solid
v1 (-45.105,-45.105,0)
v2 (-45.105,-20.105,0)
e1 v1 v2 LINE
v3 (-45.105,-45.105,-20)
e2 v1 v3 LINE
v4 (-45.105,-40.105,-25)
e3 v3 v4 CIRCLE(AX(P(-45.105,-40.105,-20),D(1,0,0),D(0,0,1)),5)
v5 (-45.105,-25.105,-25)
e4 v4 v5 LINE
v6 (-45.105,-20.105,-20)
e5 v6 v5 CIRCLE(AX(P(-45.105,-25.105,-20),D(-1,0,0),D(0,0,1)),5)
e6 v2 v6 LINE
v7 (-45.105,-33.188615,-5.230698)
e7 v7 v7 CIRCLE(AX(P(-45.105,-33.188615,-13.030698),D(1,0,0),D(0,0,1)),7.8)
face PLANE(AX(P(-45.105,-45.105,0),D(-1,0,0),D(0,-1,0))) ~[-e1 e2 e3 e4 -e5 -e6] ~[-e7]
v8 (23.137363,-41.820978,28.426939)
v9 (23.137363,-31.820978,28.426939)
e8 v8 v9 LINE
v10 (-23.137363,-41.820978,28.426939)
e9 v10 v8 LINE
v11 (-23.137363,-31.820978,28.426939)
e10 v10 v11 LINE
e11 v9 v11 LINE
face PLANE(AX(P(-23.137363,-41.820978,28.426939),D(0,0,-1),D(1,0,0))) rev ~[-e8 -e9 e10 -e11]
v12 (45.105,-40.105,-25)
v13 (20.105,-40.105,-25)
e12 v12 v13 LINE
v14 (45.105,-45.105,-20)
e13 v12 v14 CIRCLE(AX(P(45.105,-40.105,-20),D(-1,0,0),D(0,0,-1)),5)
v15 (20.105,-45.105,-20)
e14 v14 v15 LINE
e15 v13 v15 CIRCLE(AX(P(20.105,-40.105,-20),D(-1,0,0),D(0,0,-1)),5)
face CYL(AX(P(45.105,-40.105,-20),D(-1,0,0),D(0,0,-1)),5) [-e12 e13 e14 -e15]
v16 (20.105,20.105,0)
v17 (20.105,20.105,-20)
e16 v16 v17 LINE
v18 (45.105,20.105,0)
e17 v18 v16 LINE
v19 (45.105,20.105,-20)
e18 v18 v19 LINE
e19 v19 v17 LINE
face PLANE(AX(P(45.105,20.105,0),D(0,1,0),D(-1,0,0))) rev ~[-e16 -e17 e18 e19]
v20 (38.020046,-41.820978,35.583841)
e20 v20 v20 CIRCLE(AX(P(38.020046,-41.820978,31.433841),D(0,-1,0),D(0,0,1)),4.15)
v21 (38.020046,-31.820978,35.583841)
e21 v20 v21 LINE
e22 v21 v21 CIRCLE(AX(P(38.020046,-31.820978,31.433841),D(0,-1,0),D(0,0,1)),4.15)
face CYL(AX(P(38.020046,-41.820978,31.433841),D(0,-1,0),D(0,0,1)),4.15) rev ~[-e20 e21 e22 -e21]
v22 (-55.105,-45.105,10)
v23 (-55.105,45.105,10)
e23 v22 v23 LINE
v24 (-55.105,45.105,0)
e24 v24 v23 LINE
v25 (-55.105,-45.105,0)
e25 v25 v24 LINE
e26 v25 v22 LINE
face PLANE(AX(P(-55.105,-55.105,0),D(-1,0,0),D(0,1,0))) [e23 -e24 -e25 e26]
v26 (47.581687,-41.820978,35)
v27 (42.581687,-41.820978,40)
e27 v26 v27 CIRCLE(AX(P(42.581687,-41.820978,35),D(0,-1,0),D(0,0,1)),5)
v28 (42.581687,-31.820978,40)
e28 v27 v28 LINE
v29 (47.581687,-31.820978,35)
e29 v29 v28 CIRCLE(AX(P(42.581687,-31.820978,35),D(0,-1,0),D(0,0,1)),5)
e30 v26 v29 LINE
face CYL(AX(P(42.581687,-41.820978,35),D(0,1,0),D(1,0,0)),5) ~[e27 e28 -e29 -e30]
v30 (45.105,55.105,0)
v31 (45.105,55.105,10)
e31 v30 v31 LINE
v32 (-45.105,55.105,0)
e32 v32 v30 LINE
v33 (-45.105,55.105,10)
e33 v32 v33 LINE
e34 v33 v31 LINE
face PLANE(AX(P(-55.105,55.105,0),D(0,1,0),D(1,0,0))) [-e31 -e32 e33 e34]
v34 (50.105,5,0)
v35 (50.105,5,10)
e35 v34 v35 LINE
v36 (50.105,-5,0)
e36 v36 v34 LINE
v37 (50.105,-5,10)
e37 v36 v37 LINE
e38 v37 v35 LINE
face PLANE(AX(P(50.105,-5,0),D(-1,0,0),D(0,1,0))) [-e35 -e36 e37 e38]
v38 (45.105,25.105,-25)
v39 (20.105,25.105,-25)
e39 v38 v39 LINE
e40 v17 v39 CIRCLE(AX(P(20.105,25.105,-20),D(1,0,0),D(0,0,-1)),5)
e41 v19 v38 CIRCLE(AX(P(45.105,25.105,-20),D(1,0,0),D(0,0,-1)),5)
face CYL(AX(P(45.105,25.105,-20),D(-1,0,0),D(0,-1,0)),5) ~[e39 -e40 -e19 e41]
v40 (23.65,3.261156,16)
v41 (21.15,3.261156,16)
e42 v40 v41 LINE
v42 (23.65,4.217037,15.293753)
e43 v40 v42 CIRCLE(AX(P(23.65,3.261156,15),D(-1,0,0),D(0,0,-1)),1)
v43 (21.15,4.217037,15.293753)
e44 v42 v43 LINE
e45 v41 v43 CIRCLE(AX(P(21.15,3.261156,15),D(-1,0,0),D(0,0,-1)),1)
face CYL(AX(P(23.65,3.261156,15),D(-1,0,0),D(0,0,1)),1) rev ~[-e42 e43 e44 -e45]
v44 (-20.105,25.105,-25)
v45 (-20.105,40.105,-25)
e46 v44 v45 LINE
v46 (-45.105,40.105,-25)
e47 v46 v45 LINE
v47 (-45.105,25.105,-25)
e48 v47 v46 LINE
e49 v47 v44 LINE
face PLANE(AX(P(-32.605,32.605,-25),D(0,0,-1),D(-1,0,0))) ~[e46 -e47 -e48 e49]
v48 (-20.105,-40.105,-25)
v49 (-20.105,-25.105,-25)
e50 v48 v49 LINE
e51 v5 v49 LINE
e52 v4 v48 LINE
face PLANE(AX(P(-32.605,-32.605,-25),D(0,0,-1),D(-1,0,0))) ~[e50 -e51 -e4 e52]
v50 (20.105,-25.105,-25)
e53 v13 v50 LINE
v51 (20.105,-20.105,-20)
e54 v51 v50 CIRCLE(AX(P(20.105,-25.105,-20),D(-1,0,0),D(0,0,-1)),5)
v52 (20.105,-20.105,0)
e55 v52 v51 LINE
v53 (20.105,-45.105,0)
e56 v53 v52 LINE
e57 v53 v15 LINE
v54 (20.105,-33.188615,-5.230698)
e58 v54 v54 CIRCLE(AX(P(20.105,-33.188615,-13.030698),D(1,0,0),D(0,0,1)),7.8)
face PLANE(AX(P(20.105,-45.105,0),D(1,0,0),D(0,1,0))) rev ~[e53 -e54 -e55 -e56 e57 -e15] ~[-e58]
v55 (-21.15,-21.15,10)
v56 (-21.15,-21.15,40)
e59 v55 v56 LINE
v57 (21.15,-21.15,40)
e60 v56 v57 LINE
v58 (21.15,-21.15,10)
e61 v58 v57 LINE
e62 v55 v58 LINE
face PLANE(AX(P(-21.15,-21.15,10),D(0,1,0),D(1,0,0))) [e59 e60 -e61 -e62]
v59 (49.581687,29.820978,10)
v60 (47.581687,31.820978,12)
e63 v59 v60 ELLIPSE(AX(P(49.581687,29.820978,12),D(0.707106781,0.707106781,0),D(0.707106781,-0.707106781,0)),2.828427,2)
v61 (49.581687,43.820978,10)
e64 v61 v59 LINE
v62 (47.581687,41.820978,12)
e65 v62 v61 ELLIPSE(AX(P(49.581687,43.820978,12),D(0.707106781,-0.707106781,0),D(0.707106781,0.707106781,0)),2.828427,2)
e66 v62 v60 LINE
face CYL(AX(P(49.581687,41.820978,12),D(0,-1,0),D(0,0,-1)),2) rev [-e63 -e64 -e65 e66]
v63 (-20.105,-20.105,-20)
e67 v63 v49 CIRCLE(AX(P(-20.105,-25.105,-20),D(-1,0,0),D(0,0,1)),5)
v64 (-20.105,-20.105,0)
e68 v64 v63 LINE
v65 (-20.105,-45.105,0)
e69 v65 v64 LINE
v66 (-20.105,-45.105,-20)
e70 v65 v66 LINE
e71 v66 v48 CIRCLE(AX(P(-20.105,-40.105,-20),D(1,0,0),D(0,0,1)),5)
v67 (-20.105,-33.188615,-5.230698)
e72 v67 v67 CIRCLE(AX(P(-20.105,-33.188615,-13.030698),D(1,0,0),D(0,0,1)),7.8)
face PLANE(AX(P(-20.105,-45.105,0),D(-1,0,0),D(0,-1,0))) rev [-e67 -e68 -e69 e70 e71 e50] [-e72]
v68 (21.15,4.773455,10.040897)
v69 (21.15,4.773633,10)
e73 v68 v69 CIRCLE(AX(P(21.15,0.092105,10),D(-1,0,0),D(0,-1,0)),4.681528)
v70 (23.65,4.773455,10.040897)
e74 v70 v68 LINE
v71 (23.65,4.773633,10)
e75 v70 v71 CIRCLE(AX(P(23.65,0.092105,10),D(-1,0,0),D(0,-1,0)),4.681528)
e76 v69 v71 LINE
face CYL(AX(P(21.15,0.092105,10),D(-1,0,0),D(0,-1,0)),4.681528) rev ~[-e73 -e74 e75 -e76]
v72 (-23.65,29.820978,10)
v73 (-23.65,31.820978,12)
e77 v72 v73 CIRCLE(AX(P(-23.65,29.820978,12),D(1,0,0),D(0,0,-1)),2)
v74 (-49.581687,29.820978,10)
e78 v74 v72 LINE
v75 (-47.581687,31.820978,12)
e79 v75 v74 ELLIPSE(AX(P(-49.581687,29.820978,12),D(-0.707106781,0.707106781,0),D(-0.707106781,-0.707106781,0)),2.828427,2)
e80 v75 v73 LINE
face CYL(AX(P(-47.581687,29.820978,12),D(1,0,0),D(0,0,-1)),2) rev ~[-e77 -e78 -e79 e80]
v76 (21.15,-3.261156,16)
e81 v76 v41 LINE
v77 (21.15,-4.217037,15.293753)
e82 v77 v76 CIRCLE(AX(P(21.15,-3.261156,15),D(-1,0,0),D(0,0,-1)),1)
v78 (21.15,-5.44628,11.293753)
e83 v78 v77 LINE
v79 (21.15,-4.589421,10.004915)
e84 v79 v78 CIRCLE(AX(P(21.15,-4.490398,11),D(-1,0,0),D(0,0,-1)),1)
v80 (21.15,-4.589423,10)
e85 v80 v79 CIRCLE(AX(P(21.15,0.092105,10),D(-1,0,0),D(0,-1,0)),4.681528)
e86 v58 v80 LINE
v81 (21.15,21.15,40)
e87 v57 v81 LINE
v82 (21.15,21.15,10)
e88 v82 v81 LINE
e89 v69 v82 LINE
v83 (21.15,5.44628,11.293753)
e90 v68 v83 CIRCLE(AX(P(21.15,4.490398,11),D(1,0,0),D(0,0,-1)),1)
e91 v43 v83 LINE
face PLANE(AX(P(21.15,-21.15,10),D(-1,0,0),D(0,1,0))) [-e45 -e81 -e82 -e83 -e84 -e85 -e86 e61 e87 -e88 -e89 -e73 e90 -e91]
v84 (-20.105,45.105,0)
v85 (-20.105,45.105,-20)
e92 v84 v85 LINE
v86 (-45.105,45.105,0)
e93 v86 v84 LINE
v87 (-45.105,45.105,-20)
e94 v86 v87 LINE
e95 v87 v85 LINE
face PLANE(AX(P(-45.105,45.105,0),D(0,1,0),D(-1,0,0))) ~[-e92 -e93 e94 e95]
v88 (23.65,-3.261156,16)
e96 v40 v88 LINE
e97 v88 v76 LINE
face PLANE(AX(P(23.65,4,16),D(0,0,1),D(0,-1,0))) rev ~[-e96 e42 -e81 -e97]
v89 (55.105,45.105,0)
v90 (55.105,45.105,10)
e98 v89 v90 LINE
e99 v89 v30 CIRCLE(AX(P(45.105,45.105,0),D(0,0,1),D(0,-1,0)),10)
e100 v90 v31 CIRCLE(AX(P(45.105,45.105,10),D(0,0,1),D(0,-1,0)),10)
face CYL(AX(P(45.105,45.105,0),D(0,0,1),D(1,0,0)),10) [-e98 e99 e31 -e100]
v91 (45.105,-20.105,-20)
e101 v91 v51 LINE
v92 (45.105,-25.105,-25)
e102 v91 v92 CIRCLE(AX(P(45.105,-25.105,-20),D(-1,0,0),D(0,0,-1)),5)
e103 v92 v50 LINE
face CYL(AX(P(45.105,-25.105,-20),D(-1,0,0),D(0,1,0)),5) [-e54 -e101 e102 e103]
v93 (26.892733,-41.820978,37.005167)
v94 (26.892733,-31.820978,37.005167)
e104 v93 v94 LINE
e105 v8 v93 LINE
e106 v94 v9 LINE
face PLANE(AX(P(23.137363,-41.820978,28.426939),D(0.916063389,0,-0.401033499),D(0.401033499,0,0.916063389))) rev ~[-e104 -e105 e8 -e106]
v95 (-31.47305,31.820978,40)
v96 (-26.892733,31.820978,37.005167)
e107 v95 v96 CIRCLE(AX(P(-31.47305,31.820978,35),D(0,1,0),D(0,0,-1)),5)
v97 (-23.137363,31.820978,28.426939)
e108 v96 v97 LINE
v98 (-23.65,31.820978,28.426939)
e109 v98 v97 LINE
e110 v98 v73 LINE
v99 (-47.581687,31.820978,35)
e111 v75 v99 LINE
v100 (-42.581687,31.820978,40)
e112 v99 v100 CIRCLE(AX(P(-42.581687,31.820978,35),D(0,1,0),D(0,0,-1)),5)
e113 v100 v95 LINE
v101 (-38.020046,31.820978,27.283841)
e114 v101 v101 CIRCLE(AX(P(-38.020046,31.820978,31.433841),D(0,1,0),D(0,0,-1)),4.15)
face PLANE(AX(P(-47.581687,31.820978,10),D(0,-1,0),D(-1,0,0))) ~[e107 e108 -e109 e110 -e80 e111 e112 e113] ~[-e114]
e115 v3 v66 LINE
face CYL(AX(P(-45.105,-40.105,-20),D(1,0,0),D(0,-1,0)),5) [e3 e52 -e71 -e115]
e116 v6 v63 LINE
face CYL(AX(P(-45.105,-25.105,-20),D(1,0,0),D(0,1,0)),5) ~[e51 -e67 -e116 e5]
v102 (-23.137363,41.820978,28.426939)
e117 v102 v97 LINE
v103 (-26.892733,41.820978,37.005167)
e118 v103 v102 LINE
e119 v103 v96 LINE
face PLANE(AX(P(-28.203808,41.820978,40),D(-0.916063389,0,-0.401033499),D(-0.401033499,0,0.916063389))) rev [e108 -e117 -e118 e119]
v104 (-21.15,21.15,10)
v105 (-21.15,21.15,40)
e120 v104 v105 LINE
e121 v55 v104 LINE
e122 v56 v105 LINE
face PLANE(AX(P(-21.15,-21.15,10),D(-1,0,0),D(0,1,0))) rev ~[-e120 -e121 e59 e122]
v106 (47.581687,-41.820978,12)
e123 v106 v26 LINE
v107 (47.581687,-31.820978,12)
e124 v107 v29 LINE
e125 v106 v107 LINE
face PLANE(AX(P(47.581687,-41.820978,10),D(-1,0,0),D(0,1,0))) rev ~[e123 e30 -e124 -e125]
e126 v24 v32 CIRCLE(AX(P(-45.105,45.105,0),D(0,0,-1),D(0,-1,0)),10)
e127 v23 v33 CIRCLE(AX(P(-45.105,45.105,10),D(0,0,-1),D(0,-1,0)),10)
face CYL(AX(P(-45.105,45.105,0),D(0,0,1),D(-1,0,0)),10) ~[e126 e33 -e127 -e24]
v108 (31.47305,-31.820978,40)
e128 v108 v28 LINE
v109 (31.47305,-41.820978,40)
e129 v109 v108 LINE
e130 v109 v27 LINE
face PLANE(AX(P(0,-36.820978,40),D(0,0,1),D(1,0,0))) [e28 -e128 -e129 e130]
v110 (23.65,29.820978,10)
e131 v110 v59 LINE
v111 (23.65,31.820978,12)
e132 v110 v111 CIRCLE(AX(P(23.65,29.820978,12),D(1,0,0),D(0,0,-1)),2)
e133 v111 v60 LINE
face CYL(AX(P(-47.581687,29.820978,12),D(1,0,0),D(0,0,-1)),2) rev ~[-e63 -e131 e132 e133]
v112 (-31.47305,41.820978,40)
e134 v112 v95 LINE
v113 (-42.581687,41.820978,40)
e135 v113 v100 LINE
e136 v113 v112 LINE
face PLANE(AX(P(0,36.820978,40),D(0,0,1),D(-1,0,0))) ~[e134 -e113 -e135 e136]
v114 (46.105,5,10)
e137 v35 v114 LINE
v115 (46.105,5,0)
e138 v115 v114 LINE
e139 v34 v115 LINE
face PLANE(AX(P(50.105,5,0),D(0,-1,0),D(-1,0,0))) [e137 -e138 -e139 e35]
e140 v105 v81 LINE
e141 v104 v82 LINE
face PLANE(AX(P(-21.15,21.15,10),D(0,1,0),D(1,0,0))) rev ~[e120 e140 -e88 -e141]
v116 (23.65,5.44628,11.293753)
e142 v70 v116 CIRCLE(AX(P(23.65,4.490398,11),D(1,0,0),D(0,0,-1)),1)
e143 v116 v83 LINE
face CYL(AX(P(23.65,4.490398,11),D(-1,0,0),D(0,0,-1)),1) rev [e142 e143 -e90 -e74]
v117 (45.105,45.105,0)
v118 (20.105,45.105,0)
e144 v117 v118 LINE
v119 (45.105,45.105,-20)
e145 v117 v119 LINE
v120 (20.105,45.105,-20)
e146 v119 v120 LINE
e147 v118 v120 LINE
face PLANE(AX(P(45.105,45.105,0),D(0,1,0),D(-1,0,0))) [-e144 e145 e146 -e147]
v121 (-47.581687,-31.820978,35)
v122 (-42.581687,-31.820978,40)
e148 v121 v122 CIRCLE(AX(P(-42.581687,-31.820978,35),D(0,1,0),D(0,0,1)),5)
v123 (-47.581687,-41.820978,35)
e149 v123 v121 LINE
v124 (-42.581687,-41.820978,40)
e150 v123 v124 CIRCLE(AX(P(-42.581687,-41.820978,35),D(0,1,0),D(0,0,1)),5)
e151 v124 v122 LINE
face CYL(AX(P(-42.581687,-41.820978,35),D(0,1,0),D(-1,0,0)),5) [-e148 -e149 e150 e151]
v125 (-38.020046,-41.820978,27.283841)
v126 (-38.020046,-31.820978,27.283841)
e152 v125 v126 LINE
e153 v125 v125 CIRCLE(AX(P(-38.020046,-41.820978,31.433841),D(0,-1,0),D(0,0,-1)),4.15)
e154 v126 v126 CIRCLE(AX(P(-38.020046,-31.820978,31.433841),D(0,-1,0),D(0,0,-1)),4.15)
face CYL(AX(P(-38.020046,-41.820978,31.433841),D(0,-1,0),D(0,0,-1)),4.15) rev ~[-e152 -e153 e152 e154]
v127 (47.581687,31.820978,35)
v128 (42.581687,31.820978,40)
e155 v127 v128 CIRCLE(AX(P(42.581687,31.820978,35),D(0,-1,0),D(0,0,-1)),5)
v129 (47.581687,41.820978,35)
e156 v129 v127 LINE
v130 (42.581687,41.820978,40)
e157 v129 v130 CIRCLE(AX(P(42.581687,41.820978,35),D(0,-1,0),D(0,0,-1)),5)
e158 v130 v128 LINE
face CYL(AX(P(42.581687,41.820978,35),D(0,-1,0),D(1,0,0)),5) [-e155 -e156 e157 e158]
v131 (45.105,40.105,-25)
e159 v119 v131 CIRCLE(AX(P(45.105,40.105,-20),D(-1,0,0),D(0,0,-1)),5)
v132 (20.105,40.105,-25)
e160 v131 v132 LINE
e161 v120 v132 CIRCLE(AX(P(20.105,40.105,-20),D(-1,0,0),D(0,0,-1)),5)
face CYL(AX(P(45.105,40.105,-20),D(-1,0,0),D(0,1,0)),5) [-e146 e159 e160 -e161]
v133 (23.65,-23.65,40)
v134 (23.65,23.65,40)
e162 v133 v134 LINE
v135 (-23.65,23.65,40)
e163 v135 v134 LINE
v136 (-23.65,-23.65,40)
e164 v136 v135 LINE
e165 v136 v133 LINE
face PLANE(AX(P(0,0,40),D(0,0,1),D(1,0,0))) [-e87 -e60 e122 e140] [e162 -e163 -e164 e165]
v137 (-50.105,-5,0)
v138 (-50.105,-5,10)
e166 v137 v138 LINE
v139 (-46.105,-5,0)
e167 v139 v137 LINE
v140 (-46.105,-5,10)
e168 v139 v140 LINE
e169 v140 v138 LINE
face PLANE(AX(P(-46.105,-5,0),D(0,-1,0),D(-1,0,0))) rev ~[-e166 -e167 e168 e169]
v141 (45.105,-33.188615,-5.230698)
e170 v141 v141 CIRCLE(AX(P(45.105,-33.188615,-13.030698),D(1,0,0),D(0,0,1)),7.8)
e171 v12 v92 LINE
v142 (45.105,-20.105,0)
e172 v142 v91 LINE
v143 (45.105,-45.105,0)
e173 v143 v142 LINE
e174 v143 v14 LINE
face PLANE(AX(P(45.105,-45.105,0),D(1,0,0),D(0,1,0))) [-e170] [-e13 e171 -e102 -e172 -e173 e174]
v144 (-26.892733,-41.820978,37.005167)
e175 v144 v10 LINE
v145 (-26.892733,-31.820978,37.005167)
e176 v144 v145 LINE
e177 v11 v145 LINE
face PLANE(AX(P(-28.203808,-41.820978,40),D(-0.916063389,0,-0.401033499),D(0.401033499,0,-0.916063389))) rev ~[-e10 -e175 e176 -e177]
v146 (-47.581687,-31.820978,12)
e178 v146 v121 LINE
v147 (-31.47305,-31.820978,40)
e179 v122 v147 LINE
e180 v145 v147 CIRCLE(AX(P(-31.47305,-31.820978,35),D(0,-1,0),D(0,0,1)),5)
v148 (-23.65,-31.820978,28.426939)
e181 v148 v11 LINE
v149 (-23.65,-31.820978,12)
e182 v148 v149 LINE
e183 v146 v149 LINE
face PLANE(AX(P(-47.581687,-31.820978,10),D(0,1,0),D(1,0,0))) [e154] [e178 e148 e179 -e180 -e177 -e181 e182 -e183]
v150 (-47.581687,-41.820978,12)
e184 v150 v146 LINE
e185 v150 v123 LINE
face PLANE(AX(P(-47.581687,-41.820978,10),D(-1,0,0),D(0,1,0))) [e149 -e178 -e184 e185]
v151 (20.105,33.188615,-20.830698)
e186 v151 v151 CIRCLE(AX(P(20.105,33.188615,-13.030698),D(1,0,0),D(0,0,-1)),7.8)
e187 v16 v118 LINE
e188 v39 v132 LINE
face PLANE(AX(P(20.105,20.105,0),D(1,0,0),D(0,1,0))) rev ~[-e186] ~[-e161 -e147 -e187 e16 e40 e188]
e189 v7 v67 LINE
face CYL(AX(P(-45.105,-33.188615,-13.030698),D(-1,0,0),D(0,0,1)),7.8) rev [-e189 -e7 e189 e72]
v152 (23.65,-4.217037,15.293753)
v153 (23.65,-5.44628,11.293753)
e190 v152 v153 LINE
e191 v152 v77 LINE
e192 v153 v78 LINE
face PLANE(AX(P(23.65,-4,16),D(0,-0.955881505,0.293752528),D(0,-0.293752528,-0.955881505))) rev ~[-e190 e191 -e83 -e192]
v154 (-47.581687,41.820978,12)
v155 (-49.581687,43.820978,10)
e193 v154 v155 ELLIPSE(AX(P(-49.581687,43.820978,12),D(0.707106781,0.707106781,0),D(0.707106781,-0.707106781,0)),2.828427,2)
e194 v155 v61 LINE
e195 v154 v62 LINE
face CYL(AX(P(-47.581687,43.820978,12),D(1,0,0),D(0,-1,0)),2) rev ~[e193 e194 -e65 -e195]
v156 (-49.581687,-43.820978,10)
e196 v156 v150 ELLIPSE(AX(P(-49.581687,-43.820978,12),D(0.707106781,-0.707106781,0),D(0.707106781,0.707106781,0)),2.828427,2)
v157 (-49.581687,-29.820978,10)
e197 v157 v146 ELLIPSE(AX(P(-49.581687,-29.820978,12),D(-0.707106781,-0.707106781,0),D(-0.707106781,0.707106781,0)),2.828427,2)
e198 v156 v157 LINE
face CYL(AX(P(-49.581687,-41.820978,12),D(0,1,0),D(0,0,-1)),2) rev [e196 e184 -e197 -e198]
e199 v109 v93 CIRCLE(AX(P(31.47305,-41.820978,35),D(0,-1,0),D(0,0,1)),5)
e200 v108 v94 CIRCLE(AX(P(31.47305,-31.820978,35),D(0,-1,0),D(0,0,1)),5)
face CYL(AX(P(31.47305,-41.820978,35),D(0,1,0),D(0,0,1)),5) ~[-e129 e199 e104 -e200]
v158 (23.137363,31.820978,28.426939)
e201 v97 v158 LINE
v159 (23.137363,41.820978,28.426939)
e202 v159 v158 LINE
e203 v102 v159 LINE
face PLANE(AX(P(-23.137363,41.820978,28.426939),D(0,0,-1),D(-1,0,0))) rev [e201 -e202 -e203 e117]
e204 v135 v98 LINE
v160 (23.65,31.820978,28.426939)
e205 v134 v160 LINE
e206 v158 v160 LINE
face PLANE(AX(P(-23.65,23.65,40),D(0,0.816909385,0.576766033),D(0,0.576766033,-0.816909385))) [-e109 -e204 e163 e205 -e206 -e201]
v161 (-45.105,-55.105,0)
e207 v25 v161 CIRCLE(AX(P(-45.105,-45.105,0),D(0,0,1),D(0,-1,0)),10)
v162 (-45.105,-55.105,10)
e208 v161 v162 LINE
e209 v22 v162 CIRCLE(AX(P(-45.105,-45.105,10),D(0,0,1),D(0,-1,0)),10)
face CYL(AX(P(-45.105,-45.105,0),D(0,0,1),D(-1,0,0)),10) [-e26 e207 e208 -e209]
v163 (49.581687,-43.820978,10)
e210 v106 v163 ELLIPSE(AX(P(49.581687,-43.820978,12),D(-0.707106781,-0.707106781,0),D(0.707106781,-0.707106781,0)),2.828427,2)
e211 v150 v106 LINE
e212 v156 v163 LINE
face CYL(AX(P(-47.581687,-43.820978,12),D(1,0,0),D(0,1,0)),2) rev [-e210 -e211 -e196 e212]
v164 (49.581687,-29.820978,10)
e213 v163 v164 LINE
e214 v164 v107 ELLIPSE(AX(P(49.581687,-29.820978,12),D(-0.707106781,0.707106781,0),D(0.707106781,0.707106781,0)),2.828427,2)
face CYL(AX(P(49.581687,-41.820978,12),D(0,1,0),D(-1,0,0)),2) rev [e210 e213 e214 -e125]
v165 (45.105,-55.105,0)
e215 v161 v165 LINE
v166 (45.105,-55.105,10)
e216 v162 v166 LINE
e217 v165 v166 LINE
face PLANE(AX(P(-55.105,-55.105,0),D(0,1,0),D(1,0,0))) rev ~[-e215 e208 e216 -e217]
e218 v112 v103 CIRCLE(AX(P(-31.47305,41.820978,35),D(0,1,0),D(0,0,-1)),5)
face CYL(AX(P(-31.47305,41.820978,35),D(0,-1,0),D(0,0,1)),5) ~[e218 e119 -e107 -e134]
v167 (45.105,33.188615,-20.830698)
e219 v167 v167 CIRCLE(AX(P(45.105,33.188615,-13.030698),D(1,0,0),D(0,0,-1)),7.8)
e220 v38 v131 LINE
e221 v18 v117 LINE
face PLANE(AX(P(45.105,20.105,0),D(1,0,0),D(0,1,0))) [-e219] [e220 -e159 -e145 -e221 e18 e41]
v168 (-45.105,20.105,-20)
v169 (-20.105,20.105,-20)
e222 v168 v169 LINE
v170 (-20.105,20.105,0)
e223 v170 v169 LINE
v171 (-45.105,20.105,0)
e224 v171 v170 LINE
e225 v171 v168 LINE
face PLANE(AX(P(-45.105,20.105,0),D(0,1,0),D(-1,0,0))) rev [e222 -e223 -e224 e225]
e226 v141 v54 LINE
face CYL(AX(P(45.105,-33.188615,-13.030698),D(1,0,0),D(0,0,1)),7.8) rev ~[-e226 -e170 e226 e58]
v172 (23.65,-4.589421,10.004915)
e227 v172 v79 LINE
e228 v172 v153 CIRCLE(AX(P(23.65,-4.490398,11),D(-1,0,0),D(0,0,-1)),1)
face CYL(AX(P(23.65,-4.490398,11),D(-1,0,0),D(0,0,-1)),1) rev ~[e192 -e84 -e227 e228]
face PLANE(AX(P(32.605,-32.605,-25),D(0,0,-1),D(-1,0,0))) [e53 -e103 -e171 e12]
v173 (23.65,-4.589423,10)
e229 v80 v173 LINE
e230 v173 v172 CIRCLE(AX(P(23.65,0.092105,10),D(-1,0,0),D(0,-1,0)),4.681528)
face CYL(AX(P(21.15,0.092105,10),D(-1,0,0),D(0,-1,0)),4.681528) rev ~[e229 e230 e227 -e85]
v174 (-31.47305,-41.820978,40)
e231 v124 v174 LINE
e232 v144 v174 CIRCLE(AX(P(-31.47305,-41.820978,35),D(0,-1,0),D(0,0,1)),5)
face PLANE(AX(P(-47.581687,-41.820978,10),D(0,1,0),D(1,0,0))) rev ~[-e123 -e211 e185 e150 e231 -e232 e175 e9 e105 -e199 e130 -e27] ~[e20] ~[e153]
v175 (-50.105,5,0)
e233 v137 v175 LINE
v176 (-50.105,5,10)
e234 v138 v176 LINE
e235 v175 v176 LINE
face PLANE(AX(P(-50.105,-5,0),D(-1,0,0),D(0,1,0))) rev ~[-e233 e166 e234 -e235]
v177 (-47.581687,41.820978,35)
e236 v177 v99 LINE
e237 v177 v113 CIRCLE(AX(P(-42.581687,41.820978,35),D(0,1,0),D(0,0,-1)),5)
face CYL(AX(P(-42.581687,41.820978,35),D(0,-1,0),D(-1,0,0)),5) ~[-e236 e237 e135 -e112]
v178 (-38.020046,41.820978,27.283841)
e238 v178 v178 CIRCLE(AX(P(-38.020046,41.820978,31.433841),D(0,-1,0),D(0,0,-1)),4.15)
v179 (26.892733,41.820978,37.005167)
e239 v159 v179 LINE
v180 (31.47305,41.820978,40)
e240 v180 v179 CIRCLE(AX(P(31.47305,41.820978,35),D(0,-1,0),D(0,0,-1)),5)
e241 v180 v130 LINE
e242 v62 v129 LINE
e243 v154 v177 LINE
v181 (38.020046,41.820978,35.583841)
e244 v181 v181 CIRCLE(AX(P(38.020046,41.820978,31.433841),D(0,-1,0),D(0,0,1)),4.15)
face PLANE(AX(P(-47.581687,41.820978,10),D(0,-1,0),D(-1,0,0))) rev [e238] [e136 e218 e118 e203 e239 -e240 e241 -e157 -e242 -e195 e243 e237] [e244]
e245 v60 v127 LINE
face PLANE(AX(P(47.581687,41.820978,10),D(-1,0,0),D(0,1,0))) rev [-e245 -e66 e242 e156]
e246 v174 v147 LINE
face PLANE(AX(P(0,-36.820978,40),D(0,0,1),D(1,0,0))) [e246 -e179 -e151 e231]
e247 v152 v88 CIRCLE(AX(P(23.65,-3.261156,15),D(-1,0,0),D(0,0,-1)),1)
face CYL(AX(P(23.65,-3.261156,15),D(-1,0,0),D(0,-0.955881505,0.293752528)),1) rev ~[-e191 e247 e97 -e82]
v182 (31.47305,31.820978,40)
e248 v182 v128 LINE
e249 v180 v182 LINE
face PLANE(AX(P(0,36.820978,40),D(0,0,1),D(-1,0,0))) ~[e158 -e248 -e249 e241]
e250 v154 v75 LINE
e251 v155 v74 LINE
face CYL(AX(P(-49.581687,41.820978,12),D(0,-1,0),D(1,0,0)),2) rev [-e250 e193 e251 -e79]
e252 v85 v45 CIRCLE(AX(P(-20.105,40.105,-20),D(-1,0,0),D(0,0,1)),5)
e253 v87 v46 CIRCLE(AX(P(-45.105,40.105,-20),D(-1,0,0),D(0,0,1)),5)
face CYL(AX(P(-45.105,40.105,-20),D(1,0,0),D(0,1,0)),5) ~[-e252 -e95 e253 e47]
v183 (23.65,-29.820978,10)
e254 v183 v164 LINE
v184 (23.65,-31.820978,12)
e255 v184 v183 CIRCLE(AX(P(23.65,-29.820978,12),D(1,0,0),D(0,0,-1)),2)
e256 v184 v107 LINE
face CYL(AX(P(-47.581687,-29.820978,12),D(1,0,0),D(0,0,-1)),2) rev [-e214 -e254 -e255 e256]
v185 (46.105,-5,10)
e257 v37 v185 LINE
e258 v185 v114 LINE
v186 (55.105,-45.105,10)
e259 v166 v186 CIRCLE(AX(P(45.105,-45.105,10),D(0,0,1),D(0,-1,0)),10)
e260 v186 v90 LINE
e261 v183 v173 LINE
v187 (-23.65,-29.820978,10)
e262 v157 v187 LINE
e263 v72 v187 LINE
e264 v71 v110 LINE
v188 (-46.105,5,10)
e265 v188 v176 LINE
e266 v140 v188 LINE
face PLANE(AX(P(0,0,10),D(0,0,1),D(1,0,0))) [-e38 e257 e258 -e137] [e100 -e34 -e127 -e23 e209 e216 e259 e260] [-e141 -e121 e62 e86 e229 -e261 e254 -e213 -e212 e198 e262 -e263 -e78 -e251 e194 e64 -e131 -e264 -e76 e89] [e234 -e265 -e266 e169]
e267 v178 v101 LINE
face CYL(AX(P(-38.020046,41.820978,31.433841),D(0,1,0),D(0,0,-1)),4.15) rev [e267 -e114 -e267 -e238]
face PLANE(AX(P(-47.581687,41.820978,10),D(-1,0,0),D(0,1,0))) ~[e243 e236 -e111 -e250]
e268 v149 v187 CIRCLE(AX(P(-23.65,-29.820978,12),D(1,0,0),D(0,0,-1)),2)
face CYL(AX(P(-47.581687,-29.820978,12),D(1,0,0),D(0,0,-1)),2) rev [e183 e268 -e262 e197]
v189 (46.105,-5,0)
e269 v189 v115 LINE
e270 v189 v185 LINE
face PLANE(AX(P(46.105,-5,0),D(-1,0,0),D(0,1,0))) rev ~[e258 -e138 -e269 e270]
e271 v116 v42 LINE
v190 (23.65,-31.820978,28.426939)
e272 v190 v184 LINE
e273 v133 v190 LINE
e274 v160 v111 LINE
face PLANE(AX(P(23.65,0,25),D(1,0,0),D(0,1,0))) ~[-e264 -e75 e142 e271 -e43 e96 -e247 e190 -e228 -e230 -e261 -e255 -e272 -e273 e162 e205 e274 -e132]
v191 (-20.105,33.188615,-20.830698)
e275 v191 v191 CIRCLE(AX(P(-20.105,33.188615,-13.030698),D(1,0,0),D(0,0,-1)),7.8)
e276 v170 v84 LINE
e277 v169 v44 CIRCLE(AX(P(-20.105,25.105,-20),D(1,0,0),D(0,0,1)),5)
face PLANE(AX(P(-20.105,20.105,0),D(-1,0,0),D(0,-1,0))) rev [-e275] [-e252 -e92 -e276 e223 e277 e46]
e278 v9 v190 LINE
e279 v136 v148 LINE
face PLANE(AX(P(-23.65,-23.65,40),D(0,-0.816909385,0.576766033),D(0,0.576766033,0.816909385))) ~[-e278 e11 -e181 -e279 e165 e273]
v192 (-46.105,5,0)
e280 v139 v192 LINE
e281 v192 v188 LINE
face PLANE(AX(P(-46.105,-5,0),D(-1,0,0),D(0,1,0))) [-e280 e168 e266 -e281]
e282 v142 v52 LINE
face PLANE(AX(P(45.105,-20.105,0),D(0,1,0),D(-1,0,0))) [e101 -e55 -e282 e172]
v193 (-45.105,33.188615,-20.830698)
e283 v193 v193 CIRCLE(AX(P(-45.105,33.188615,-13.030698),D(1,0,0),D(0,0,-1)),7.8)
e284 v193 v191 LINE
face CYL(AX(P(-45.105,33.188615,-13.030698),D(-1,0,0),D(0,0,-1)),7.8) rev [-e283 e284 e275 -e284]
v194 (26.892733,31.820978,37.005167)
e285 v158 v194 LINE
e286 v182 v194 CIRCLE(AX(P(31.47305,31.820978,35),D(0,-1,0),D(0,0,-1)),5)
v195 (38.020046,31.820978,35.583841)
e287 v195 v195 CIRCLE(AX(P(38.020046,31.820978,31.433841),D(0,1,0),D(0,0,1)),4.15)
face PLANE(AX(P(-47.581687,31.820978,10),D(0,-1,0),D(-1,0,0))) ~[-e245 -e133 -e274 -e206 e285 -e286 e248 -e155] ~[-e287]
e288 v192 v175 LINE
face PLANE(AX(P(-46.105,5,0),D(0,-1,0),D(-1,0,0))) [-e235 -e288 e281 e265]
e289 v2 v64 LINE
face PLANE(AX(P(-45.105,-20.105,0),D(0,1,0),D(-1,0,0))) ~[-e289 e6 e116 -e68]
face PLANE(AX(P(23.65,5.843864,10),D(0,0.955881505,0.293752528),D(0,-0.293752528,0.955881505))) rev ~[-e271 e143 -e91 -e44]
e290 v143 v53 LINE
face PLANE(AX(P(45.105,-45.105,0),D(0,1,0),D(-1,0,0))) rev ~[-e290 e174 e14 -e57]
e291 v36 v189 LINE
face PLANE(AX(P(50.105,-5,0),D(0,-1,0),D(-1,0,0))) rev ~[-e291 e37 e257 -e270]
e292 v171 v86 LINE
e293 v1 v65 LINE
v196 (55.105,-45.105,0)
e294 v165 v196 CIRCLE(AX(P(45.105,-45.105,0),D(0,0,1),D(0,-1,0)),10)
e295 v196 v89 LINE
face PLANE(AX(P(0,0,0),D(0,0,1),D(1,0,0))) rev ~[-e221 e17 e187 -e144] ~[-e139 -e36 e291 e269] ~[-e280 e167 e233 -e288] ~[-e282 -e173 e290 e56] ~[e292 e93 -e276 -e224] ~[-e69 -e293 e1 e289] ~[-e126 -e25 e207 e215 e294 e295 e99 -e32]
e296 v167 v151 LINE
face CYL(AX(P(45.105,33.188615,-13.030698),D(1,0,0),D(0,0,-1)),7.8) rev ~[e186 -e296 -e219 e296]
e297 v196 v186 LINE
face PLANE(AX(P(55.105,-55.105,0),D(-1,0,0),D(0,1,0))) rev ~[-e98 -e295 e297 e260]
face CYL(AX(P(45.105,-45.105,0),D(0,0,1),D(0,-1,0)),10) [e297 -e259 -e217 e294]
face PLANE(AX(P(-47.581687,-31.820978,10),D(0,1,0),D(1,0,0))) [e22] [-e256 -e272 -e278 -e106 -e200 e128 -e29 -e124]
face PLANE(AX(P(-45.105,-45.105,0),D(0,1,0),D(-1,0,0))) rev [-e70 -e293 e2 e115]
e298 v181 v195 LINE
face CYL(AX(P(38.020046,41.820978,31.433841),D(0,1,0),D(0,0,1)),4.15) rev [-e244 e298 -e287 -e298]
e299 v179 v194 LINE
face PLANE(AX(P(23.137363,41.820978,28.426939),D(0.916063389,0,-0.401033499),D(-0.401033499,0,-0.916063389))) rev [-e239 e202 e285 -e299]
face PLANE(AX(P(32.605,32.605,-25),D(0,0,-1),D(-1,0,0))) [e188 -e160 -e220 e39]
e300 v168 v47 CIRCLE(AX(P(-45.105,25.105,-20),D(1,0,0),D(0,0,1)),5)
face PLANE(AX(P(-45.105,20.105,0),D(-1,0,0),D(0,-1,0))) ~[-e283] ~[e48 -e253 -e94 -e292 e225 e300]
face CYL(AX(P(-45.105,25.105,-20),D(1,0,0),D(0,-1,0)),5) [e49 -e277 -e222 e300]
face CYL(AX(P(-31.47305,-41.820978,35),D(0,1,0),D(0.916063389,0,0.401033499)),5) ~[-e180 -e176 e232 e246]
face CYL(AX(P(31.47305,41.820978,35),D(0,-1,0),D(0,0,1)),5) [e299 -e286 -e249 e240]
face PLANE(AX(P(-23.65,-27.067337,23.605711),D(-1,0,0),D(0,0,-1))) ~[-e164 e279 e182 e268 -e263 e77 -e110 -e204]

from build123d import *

# Parameters (mm, degrees)
SCHIZZO1_W                   = 110.21
SCHIZZO1_H                   = 110.21
ESTRUSIONE_ESTRUSIONE1_DEPTH = 10
RACCORDO1_R                  = 10
SCHIZZO6_W                   = 25
SCHIZZO6_H                   = 25
ESTRUSIONE_ESTRUSIONE2_DEPTH = 25
RACCORDO2_R                  = 5
SCHIZZO8_W                   = 47.3
SCHIZZO8_H                   = 47.3
SCHIZZO8_W_2                 = 42.3
SCHIZZO8_H_2                 = 42.3
ESTRUSIONE_ESTRUSIONE4_DEPTH = 30
SCHIZZO16_W                  = 4
SCHIZZO16_H                  = 10
TAGLIO_ESTRUSIONE11_DEPTH    = 10
SCHIZZO20_R                  = 7.8
TAGLIO_ESTRUSIONE12_DEPTH    = 25
RACCORDO11_R                 = 5
RACCORDO12_R                 = 5
RACCORDO13_R                 = 5
SCHIZZO10_W                  = 95.163374128
SCHIZZO10_H                  = 10
ESTRUSIONE_ESTRUSIONE5_DEPTH = 30
SCHIZZO21_R                  = 4.15
TAGLIO_ESTRUSIONE13_DEPTH    = 17
RACCORDO15_R                 = 5
RACCORDO16_R                 = 2
RACCORDO15_OF_SPECCHIA20_R   = 5
RACCORDO16_OF_SPECCHIA20_R   = 2
ESTRUSIONE_ESTRUSIONE7_REACH = 106.11
TAGLIO_ESTRUSIONE16_DEPTH    = 8.05
RACCORDO18_R                 = 1
TAGLIO_ESTRUSIONE14_DEPTH    = 17


with BuildPart() as part:
    # Schizzo1 → Estrusione-Estrusione1 (new body)
    with BuildSketch(Plane.XY):
        Rectangle(SCHIZZO1_W, SCHIZZO1_H)
    extrude(amount=ESTRUSIONE_ESTRUSIONE1_DEPTH)

    # Raccordo1
    raccordo1_edges = [part.edges().sort_by_distance(p)[0] for p in [
        (55.105, -55.105, 5),
        (-55.105, -55.105, 5),
        (-55.105, 55.105, 5),
        (55.105, 55.105, 5),
    ]]
    fillet(raccordo1_edges, radius=RACCORDO1_R)

    # Schizzo6 → Estrusione-Estrusione2 (add)
    with BuildSketch(Plane(origin=(0, 0, 0), x_dir=(-1, 0, 0), z_dir=(0, 0, -1))):
        with Locations((-32.605, 32.605)):
            Rectangle(SCHIZZO6_W, SCHIZZO6_H)
        with Locations((-32.605, -32.605)):
            Rectangle(SCHIZZO6_W, SCHIZZO6_H)
    estrusione_estrusione2 = extrude(amount=ESTRUSIONE_ESTRUSIONE2_DEPTH)

    # Raccordo2
    raccordo2_edges = [part.edges().sort_by_distance(p)[0] for p in [
        (32.605, 20.105, -25),
        (32.605, 45.105, -25),
    ]]
    fillet(raccordo2_edges, radius=RACCORDO2_R)

    # Schizzo8 → Estrusione-Estrusione4 (add)
    with BuildSketch(Plane.XY.offset(10)):
        Rectangle(SCHIZZO8_W, SCHIZZO8_H)
        Rectangle(SCHIZZO8_W_2, SCHIZZO8_H_2, mode=Mode.SUBTRACT)
    extrude(amount=ESTRUSIONE_ESTRUSIONE4_DEPTH)

    # Schizzo16 → Taglio-Estrusione11 (cut)
    with BuildSketch(Plane(origin=(0, 0, 0), x_dir=(-1, 0, 0), z_dir=(0, 0, -1))):
        with Locations((-48.105, 0)):
            Rectangle(SCHIZZO16_W, SCHIZZO16_H)
        with Locations((48.105, 0)):
            Rectangle(SCHIZZO16_W, SCHIZZO16_H)
    extrude(amount=-TAGLIO_ESTRUSIONE11_DEPTH, mode=Mode.SUBTRACT)

    # Schizzo20 → Taglio-Estrusione12 (cut)
    with BuildSketch(Plane(origin=(45.105, 0, 0), x_dir=(0, 0, -1), z_dir=(1, 0, 0))):
        with Locations((13.030698379, 33.188614524)):
            Circle(SCHIZZO20_R)
        with Locations(Location((13.030698379, -33.188614524, 0), (0, 0, 180))):
            Circle(SCHIZZO20_R)
    taglio_estrusione12 = extrude(amount=-TAGLIO_ESTRUSIONE12_DEPTH, mode=Mode.SUBTRACT)

    # Raccordo11
    raccordo11_edges = [part.edges().sort_by_distance(p)[0] for p in [
        (32.605, -20.105, -25),
    ]]
    fillet(raccordo11_edges, radius=RACCORDO11_R)

    # Raccordo12
    raccordo12_edges = [part.edges().sort_by_distance(p)[0] for p in [
        (32.605, -45.105, -25),
    ]]
    fillet(raccordo12_edges, radius=RACCORDO12_R)

    # Specchia17: Estrusione-Estrusione2 across plane
    add(estrusione_estrusione2.mirror(Plane(origin=(0, 0, 0), x_dir=(0, 0, 1), z_dir=(1, 0, 0))))

    # Specchia19: Taglio-Estrusione12 across plane
    add(taglio_estrusione12.mirror(Plane(origin=(0, 0, 0), x_dir=(0, 0, 1), z_dir=(1, 0, 0))), mode=Mode.SUBTRACT)

    # Raccordo13
    raccordo13_edges = [part.edges().sort_by_distance(p)[0] for p in [
        (-32.605, 45.105, -25),
        (-32.605, 20.105, -25),
        (-32.605, -45.105, -25),
        (-32.605, -20.105, -25),
    ]]
    fillet(raccordo13_edges, radius=RACCORDO13_R)

    # Schizzo10 → Estrusione-Estrusione5 (add)
    with BuildSketch(Plane.XY.offset(10)):
        with Locations((0, -36.820977582)):
            Rectangle(SCHIZZO10_W, SCHIZZO10_H)
    estrusione_estrusione5 = extrude(amount=ESTRUSIONE_ESTRUSIONE5_DEPTH)

    # Schizzo21 → Taglio-Estrusione13 (cut)
    with BuildSketch(Plane.XZ.offset(41.820977582)):
        with Locations(Location((-38.020045692, 31.433841087, 0), (0, 0, 270))):
            Circle(SCHIZZO21_R)
        with Locations(Location((38.020045692, 31.433841087, 0), (0, 0, 90))):
            Circle(SCHIZZO21_R)
        Polygon((-28.203808042, 40), (-23.137362803, 28.426939363), (23.137362803, 28.426939363), (28.203808042, 40), align=None)
    taglio_estrusione13 = extrude(amount=-TAGLIO_ESTRUSIONE13_DEPTH, mode=Mode.SUBTRACT)

    # Raccordo15
    raccordo15_edges = [part.edges().sort_by_distance(p)[0] for p in [
        (47.581687064, -36.820977582, 40),
        (-47.581687064, -36.820977582, 40),
        (-28.203808042, -36.820977582, 40),
        (28.203808042, -36.820977582, 40),
    ]]
    fillet(raccordo15_edges, radius=RACCORDO15_R)

    # Raccordo16
    raccordo16_edges = [part.edges().sort_by_distance(p)[0] for p in [
        (-47.581687064, -36.820977582, 10),
        (0, -41.820977582, 10),
        (0, -31.820977582, 10),
        (47.581687064, -36.820977582, 10),
    ]]
    fillet(raccordo16_edges, radius=RACCORDO16_R)

    # Specchia20: Estrusione-Estrusione5, Taglio-Estrusione13 across plane
    add(estrusione_estrusione5.mirror(Plane.ZX))
    add(taglio_estrusione13.mirror(Plane.ZX), mode=Mode.SUBTRACT)

    # Raccordo15 of Specchia20
    raccordo15_of_specchia20_edges = [part.edges().sort_by_distance(p)[0] for p in [
        (47.581687064, 36.820977582, 40),
        (-47.581687064, 36.820977582, 40),
        (-28.203808042, 36.820977582, 40),
        (28.203808042, 36.820977582, 40),
    ]]
    fillet(raccordo15_of_specchia20_edges, radius=RACCORDO15_OF_SPECCHIA20_R)

    # Raccordo16 of Specchia20
    raccordo16_of_specchia20_edges = [part.edges().sort_by_distance(p)[0] for p in [
        (-47.581687064, 36.820977582, 10),
        (0, 41.820977582, 10),
        (0, 31.820977582, 10),
        (47.581687064, 36.820977582, 10),
    ]]
    fillet(raccordo16_of_specchia20_edges, radius=RACCORDO16_OF_SPECCHIA20_R)

    # Estrusione-Estrusione7: up to this face of the body (flat: up to its plane)
    estrusione_estrusione7_end = Plane(part.part.faces().sort_by_distance((23.65, 0, 25))[0])
    # Schizzo29 → Estrusione-Estrusione7 (add, up to the picked face)
    with BuildSketch(Plane.ZY.offset(23.65), mode=Mode.PRIVATE) as estrusione_estrusione7_sk1:
        Polygon((40, 23.65), (28.426939363, 31.820977582), (10, 31.820977582), (10, 23.65), align=None)
    estrusione_estrusione7_tool1 = split(extrude(estrusione_estrusione7_sk1.sketch, amount=-ESTRUSIONE_ESTRUSIONE7_REACH, mode=Mode.PRIVATE), bisect_by=estrusione_estrusione7_end, keep=Keep.BOTH, mode=Mode.PRIVATE)
    estrusione_estrusione7 = estrusione_estrusione7_tool1.solids().sort_by(Axis((-23.65, 27.410039, 22.337212), (1, 0, 0)))[0]
    add(estrusione_estrusione7)

    # Specchia22: Estrusione-Estrusione7 across plane
    add(estrusione_estrusione7.mirror(Plane.ZX))

    # Schizzo30 → Taglio-Estrusione16 (cut)
    with BuildSketch(Plane(origin=(23.65, 0, 0), x_dir=(0, 0, -1), z_dir=(1, 0, 0))):
        Polygon((-16, -4), (-10, -5.843863655), (-10, -4), (-10, 4), (-10, 5.843863655), (-16, 4), align=None)
    extrude(amount=-TAGLIO_ESTRUSIONE16_DEPTH, mode=Mode.SUBTRACT)

    # Raccordo18
    raccordo18_edges = [part.edges().sort_by_distance(p)[0] for p in [
        (22.4, -5.843863655, 10),
        (22.4, -4, 16),
        (22.4, 4, 16),
        (22.4, 5.843863655, 10),
    ]]
    fillet(raccordo18_edges, radius=RACCORDO18_R)

    # Schizzo28 → Taglio-Estrusione14 (cut)
    with BuildSketch(Plane.ZY.offset(-21.15)):
        with BuildLine():
            Line((10, 4.773633228), (10, -4.589423386))
            ThreePointArc((10, -4.589423386), (14.681528307, 0.092104921), (10, 4.773633228))
        make_face()
    extrude(amount=-TAGLIO_ESTRUSIONE14_DEPTH, mode=Mode.SUBTRACT)


solid = part.part
